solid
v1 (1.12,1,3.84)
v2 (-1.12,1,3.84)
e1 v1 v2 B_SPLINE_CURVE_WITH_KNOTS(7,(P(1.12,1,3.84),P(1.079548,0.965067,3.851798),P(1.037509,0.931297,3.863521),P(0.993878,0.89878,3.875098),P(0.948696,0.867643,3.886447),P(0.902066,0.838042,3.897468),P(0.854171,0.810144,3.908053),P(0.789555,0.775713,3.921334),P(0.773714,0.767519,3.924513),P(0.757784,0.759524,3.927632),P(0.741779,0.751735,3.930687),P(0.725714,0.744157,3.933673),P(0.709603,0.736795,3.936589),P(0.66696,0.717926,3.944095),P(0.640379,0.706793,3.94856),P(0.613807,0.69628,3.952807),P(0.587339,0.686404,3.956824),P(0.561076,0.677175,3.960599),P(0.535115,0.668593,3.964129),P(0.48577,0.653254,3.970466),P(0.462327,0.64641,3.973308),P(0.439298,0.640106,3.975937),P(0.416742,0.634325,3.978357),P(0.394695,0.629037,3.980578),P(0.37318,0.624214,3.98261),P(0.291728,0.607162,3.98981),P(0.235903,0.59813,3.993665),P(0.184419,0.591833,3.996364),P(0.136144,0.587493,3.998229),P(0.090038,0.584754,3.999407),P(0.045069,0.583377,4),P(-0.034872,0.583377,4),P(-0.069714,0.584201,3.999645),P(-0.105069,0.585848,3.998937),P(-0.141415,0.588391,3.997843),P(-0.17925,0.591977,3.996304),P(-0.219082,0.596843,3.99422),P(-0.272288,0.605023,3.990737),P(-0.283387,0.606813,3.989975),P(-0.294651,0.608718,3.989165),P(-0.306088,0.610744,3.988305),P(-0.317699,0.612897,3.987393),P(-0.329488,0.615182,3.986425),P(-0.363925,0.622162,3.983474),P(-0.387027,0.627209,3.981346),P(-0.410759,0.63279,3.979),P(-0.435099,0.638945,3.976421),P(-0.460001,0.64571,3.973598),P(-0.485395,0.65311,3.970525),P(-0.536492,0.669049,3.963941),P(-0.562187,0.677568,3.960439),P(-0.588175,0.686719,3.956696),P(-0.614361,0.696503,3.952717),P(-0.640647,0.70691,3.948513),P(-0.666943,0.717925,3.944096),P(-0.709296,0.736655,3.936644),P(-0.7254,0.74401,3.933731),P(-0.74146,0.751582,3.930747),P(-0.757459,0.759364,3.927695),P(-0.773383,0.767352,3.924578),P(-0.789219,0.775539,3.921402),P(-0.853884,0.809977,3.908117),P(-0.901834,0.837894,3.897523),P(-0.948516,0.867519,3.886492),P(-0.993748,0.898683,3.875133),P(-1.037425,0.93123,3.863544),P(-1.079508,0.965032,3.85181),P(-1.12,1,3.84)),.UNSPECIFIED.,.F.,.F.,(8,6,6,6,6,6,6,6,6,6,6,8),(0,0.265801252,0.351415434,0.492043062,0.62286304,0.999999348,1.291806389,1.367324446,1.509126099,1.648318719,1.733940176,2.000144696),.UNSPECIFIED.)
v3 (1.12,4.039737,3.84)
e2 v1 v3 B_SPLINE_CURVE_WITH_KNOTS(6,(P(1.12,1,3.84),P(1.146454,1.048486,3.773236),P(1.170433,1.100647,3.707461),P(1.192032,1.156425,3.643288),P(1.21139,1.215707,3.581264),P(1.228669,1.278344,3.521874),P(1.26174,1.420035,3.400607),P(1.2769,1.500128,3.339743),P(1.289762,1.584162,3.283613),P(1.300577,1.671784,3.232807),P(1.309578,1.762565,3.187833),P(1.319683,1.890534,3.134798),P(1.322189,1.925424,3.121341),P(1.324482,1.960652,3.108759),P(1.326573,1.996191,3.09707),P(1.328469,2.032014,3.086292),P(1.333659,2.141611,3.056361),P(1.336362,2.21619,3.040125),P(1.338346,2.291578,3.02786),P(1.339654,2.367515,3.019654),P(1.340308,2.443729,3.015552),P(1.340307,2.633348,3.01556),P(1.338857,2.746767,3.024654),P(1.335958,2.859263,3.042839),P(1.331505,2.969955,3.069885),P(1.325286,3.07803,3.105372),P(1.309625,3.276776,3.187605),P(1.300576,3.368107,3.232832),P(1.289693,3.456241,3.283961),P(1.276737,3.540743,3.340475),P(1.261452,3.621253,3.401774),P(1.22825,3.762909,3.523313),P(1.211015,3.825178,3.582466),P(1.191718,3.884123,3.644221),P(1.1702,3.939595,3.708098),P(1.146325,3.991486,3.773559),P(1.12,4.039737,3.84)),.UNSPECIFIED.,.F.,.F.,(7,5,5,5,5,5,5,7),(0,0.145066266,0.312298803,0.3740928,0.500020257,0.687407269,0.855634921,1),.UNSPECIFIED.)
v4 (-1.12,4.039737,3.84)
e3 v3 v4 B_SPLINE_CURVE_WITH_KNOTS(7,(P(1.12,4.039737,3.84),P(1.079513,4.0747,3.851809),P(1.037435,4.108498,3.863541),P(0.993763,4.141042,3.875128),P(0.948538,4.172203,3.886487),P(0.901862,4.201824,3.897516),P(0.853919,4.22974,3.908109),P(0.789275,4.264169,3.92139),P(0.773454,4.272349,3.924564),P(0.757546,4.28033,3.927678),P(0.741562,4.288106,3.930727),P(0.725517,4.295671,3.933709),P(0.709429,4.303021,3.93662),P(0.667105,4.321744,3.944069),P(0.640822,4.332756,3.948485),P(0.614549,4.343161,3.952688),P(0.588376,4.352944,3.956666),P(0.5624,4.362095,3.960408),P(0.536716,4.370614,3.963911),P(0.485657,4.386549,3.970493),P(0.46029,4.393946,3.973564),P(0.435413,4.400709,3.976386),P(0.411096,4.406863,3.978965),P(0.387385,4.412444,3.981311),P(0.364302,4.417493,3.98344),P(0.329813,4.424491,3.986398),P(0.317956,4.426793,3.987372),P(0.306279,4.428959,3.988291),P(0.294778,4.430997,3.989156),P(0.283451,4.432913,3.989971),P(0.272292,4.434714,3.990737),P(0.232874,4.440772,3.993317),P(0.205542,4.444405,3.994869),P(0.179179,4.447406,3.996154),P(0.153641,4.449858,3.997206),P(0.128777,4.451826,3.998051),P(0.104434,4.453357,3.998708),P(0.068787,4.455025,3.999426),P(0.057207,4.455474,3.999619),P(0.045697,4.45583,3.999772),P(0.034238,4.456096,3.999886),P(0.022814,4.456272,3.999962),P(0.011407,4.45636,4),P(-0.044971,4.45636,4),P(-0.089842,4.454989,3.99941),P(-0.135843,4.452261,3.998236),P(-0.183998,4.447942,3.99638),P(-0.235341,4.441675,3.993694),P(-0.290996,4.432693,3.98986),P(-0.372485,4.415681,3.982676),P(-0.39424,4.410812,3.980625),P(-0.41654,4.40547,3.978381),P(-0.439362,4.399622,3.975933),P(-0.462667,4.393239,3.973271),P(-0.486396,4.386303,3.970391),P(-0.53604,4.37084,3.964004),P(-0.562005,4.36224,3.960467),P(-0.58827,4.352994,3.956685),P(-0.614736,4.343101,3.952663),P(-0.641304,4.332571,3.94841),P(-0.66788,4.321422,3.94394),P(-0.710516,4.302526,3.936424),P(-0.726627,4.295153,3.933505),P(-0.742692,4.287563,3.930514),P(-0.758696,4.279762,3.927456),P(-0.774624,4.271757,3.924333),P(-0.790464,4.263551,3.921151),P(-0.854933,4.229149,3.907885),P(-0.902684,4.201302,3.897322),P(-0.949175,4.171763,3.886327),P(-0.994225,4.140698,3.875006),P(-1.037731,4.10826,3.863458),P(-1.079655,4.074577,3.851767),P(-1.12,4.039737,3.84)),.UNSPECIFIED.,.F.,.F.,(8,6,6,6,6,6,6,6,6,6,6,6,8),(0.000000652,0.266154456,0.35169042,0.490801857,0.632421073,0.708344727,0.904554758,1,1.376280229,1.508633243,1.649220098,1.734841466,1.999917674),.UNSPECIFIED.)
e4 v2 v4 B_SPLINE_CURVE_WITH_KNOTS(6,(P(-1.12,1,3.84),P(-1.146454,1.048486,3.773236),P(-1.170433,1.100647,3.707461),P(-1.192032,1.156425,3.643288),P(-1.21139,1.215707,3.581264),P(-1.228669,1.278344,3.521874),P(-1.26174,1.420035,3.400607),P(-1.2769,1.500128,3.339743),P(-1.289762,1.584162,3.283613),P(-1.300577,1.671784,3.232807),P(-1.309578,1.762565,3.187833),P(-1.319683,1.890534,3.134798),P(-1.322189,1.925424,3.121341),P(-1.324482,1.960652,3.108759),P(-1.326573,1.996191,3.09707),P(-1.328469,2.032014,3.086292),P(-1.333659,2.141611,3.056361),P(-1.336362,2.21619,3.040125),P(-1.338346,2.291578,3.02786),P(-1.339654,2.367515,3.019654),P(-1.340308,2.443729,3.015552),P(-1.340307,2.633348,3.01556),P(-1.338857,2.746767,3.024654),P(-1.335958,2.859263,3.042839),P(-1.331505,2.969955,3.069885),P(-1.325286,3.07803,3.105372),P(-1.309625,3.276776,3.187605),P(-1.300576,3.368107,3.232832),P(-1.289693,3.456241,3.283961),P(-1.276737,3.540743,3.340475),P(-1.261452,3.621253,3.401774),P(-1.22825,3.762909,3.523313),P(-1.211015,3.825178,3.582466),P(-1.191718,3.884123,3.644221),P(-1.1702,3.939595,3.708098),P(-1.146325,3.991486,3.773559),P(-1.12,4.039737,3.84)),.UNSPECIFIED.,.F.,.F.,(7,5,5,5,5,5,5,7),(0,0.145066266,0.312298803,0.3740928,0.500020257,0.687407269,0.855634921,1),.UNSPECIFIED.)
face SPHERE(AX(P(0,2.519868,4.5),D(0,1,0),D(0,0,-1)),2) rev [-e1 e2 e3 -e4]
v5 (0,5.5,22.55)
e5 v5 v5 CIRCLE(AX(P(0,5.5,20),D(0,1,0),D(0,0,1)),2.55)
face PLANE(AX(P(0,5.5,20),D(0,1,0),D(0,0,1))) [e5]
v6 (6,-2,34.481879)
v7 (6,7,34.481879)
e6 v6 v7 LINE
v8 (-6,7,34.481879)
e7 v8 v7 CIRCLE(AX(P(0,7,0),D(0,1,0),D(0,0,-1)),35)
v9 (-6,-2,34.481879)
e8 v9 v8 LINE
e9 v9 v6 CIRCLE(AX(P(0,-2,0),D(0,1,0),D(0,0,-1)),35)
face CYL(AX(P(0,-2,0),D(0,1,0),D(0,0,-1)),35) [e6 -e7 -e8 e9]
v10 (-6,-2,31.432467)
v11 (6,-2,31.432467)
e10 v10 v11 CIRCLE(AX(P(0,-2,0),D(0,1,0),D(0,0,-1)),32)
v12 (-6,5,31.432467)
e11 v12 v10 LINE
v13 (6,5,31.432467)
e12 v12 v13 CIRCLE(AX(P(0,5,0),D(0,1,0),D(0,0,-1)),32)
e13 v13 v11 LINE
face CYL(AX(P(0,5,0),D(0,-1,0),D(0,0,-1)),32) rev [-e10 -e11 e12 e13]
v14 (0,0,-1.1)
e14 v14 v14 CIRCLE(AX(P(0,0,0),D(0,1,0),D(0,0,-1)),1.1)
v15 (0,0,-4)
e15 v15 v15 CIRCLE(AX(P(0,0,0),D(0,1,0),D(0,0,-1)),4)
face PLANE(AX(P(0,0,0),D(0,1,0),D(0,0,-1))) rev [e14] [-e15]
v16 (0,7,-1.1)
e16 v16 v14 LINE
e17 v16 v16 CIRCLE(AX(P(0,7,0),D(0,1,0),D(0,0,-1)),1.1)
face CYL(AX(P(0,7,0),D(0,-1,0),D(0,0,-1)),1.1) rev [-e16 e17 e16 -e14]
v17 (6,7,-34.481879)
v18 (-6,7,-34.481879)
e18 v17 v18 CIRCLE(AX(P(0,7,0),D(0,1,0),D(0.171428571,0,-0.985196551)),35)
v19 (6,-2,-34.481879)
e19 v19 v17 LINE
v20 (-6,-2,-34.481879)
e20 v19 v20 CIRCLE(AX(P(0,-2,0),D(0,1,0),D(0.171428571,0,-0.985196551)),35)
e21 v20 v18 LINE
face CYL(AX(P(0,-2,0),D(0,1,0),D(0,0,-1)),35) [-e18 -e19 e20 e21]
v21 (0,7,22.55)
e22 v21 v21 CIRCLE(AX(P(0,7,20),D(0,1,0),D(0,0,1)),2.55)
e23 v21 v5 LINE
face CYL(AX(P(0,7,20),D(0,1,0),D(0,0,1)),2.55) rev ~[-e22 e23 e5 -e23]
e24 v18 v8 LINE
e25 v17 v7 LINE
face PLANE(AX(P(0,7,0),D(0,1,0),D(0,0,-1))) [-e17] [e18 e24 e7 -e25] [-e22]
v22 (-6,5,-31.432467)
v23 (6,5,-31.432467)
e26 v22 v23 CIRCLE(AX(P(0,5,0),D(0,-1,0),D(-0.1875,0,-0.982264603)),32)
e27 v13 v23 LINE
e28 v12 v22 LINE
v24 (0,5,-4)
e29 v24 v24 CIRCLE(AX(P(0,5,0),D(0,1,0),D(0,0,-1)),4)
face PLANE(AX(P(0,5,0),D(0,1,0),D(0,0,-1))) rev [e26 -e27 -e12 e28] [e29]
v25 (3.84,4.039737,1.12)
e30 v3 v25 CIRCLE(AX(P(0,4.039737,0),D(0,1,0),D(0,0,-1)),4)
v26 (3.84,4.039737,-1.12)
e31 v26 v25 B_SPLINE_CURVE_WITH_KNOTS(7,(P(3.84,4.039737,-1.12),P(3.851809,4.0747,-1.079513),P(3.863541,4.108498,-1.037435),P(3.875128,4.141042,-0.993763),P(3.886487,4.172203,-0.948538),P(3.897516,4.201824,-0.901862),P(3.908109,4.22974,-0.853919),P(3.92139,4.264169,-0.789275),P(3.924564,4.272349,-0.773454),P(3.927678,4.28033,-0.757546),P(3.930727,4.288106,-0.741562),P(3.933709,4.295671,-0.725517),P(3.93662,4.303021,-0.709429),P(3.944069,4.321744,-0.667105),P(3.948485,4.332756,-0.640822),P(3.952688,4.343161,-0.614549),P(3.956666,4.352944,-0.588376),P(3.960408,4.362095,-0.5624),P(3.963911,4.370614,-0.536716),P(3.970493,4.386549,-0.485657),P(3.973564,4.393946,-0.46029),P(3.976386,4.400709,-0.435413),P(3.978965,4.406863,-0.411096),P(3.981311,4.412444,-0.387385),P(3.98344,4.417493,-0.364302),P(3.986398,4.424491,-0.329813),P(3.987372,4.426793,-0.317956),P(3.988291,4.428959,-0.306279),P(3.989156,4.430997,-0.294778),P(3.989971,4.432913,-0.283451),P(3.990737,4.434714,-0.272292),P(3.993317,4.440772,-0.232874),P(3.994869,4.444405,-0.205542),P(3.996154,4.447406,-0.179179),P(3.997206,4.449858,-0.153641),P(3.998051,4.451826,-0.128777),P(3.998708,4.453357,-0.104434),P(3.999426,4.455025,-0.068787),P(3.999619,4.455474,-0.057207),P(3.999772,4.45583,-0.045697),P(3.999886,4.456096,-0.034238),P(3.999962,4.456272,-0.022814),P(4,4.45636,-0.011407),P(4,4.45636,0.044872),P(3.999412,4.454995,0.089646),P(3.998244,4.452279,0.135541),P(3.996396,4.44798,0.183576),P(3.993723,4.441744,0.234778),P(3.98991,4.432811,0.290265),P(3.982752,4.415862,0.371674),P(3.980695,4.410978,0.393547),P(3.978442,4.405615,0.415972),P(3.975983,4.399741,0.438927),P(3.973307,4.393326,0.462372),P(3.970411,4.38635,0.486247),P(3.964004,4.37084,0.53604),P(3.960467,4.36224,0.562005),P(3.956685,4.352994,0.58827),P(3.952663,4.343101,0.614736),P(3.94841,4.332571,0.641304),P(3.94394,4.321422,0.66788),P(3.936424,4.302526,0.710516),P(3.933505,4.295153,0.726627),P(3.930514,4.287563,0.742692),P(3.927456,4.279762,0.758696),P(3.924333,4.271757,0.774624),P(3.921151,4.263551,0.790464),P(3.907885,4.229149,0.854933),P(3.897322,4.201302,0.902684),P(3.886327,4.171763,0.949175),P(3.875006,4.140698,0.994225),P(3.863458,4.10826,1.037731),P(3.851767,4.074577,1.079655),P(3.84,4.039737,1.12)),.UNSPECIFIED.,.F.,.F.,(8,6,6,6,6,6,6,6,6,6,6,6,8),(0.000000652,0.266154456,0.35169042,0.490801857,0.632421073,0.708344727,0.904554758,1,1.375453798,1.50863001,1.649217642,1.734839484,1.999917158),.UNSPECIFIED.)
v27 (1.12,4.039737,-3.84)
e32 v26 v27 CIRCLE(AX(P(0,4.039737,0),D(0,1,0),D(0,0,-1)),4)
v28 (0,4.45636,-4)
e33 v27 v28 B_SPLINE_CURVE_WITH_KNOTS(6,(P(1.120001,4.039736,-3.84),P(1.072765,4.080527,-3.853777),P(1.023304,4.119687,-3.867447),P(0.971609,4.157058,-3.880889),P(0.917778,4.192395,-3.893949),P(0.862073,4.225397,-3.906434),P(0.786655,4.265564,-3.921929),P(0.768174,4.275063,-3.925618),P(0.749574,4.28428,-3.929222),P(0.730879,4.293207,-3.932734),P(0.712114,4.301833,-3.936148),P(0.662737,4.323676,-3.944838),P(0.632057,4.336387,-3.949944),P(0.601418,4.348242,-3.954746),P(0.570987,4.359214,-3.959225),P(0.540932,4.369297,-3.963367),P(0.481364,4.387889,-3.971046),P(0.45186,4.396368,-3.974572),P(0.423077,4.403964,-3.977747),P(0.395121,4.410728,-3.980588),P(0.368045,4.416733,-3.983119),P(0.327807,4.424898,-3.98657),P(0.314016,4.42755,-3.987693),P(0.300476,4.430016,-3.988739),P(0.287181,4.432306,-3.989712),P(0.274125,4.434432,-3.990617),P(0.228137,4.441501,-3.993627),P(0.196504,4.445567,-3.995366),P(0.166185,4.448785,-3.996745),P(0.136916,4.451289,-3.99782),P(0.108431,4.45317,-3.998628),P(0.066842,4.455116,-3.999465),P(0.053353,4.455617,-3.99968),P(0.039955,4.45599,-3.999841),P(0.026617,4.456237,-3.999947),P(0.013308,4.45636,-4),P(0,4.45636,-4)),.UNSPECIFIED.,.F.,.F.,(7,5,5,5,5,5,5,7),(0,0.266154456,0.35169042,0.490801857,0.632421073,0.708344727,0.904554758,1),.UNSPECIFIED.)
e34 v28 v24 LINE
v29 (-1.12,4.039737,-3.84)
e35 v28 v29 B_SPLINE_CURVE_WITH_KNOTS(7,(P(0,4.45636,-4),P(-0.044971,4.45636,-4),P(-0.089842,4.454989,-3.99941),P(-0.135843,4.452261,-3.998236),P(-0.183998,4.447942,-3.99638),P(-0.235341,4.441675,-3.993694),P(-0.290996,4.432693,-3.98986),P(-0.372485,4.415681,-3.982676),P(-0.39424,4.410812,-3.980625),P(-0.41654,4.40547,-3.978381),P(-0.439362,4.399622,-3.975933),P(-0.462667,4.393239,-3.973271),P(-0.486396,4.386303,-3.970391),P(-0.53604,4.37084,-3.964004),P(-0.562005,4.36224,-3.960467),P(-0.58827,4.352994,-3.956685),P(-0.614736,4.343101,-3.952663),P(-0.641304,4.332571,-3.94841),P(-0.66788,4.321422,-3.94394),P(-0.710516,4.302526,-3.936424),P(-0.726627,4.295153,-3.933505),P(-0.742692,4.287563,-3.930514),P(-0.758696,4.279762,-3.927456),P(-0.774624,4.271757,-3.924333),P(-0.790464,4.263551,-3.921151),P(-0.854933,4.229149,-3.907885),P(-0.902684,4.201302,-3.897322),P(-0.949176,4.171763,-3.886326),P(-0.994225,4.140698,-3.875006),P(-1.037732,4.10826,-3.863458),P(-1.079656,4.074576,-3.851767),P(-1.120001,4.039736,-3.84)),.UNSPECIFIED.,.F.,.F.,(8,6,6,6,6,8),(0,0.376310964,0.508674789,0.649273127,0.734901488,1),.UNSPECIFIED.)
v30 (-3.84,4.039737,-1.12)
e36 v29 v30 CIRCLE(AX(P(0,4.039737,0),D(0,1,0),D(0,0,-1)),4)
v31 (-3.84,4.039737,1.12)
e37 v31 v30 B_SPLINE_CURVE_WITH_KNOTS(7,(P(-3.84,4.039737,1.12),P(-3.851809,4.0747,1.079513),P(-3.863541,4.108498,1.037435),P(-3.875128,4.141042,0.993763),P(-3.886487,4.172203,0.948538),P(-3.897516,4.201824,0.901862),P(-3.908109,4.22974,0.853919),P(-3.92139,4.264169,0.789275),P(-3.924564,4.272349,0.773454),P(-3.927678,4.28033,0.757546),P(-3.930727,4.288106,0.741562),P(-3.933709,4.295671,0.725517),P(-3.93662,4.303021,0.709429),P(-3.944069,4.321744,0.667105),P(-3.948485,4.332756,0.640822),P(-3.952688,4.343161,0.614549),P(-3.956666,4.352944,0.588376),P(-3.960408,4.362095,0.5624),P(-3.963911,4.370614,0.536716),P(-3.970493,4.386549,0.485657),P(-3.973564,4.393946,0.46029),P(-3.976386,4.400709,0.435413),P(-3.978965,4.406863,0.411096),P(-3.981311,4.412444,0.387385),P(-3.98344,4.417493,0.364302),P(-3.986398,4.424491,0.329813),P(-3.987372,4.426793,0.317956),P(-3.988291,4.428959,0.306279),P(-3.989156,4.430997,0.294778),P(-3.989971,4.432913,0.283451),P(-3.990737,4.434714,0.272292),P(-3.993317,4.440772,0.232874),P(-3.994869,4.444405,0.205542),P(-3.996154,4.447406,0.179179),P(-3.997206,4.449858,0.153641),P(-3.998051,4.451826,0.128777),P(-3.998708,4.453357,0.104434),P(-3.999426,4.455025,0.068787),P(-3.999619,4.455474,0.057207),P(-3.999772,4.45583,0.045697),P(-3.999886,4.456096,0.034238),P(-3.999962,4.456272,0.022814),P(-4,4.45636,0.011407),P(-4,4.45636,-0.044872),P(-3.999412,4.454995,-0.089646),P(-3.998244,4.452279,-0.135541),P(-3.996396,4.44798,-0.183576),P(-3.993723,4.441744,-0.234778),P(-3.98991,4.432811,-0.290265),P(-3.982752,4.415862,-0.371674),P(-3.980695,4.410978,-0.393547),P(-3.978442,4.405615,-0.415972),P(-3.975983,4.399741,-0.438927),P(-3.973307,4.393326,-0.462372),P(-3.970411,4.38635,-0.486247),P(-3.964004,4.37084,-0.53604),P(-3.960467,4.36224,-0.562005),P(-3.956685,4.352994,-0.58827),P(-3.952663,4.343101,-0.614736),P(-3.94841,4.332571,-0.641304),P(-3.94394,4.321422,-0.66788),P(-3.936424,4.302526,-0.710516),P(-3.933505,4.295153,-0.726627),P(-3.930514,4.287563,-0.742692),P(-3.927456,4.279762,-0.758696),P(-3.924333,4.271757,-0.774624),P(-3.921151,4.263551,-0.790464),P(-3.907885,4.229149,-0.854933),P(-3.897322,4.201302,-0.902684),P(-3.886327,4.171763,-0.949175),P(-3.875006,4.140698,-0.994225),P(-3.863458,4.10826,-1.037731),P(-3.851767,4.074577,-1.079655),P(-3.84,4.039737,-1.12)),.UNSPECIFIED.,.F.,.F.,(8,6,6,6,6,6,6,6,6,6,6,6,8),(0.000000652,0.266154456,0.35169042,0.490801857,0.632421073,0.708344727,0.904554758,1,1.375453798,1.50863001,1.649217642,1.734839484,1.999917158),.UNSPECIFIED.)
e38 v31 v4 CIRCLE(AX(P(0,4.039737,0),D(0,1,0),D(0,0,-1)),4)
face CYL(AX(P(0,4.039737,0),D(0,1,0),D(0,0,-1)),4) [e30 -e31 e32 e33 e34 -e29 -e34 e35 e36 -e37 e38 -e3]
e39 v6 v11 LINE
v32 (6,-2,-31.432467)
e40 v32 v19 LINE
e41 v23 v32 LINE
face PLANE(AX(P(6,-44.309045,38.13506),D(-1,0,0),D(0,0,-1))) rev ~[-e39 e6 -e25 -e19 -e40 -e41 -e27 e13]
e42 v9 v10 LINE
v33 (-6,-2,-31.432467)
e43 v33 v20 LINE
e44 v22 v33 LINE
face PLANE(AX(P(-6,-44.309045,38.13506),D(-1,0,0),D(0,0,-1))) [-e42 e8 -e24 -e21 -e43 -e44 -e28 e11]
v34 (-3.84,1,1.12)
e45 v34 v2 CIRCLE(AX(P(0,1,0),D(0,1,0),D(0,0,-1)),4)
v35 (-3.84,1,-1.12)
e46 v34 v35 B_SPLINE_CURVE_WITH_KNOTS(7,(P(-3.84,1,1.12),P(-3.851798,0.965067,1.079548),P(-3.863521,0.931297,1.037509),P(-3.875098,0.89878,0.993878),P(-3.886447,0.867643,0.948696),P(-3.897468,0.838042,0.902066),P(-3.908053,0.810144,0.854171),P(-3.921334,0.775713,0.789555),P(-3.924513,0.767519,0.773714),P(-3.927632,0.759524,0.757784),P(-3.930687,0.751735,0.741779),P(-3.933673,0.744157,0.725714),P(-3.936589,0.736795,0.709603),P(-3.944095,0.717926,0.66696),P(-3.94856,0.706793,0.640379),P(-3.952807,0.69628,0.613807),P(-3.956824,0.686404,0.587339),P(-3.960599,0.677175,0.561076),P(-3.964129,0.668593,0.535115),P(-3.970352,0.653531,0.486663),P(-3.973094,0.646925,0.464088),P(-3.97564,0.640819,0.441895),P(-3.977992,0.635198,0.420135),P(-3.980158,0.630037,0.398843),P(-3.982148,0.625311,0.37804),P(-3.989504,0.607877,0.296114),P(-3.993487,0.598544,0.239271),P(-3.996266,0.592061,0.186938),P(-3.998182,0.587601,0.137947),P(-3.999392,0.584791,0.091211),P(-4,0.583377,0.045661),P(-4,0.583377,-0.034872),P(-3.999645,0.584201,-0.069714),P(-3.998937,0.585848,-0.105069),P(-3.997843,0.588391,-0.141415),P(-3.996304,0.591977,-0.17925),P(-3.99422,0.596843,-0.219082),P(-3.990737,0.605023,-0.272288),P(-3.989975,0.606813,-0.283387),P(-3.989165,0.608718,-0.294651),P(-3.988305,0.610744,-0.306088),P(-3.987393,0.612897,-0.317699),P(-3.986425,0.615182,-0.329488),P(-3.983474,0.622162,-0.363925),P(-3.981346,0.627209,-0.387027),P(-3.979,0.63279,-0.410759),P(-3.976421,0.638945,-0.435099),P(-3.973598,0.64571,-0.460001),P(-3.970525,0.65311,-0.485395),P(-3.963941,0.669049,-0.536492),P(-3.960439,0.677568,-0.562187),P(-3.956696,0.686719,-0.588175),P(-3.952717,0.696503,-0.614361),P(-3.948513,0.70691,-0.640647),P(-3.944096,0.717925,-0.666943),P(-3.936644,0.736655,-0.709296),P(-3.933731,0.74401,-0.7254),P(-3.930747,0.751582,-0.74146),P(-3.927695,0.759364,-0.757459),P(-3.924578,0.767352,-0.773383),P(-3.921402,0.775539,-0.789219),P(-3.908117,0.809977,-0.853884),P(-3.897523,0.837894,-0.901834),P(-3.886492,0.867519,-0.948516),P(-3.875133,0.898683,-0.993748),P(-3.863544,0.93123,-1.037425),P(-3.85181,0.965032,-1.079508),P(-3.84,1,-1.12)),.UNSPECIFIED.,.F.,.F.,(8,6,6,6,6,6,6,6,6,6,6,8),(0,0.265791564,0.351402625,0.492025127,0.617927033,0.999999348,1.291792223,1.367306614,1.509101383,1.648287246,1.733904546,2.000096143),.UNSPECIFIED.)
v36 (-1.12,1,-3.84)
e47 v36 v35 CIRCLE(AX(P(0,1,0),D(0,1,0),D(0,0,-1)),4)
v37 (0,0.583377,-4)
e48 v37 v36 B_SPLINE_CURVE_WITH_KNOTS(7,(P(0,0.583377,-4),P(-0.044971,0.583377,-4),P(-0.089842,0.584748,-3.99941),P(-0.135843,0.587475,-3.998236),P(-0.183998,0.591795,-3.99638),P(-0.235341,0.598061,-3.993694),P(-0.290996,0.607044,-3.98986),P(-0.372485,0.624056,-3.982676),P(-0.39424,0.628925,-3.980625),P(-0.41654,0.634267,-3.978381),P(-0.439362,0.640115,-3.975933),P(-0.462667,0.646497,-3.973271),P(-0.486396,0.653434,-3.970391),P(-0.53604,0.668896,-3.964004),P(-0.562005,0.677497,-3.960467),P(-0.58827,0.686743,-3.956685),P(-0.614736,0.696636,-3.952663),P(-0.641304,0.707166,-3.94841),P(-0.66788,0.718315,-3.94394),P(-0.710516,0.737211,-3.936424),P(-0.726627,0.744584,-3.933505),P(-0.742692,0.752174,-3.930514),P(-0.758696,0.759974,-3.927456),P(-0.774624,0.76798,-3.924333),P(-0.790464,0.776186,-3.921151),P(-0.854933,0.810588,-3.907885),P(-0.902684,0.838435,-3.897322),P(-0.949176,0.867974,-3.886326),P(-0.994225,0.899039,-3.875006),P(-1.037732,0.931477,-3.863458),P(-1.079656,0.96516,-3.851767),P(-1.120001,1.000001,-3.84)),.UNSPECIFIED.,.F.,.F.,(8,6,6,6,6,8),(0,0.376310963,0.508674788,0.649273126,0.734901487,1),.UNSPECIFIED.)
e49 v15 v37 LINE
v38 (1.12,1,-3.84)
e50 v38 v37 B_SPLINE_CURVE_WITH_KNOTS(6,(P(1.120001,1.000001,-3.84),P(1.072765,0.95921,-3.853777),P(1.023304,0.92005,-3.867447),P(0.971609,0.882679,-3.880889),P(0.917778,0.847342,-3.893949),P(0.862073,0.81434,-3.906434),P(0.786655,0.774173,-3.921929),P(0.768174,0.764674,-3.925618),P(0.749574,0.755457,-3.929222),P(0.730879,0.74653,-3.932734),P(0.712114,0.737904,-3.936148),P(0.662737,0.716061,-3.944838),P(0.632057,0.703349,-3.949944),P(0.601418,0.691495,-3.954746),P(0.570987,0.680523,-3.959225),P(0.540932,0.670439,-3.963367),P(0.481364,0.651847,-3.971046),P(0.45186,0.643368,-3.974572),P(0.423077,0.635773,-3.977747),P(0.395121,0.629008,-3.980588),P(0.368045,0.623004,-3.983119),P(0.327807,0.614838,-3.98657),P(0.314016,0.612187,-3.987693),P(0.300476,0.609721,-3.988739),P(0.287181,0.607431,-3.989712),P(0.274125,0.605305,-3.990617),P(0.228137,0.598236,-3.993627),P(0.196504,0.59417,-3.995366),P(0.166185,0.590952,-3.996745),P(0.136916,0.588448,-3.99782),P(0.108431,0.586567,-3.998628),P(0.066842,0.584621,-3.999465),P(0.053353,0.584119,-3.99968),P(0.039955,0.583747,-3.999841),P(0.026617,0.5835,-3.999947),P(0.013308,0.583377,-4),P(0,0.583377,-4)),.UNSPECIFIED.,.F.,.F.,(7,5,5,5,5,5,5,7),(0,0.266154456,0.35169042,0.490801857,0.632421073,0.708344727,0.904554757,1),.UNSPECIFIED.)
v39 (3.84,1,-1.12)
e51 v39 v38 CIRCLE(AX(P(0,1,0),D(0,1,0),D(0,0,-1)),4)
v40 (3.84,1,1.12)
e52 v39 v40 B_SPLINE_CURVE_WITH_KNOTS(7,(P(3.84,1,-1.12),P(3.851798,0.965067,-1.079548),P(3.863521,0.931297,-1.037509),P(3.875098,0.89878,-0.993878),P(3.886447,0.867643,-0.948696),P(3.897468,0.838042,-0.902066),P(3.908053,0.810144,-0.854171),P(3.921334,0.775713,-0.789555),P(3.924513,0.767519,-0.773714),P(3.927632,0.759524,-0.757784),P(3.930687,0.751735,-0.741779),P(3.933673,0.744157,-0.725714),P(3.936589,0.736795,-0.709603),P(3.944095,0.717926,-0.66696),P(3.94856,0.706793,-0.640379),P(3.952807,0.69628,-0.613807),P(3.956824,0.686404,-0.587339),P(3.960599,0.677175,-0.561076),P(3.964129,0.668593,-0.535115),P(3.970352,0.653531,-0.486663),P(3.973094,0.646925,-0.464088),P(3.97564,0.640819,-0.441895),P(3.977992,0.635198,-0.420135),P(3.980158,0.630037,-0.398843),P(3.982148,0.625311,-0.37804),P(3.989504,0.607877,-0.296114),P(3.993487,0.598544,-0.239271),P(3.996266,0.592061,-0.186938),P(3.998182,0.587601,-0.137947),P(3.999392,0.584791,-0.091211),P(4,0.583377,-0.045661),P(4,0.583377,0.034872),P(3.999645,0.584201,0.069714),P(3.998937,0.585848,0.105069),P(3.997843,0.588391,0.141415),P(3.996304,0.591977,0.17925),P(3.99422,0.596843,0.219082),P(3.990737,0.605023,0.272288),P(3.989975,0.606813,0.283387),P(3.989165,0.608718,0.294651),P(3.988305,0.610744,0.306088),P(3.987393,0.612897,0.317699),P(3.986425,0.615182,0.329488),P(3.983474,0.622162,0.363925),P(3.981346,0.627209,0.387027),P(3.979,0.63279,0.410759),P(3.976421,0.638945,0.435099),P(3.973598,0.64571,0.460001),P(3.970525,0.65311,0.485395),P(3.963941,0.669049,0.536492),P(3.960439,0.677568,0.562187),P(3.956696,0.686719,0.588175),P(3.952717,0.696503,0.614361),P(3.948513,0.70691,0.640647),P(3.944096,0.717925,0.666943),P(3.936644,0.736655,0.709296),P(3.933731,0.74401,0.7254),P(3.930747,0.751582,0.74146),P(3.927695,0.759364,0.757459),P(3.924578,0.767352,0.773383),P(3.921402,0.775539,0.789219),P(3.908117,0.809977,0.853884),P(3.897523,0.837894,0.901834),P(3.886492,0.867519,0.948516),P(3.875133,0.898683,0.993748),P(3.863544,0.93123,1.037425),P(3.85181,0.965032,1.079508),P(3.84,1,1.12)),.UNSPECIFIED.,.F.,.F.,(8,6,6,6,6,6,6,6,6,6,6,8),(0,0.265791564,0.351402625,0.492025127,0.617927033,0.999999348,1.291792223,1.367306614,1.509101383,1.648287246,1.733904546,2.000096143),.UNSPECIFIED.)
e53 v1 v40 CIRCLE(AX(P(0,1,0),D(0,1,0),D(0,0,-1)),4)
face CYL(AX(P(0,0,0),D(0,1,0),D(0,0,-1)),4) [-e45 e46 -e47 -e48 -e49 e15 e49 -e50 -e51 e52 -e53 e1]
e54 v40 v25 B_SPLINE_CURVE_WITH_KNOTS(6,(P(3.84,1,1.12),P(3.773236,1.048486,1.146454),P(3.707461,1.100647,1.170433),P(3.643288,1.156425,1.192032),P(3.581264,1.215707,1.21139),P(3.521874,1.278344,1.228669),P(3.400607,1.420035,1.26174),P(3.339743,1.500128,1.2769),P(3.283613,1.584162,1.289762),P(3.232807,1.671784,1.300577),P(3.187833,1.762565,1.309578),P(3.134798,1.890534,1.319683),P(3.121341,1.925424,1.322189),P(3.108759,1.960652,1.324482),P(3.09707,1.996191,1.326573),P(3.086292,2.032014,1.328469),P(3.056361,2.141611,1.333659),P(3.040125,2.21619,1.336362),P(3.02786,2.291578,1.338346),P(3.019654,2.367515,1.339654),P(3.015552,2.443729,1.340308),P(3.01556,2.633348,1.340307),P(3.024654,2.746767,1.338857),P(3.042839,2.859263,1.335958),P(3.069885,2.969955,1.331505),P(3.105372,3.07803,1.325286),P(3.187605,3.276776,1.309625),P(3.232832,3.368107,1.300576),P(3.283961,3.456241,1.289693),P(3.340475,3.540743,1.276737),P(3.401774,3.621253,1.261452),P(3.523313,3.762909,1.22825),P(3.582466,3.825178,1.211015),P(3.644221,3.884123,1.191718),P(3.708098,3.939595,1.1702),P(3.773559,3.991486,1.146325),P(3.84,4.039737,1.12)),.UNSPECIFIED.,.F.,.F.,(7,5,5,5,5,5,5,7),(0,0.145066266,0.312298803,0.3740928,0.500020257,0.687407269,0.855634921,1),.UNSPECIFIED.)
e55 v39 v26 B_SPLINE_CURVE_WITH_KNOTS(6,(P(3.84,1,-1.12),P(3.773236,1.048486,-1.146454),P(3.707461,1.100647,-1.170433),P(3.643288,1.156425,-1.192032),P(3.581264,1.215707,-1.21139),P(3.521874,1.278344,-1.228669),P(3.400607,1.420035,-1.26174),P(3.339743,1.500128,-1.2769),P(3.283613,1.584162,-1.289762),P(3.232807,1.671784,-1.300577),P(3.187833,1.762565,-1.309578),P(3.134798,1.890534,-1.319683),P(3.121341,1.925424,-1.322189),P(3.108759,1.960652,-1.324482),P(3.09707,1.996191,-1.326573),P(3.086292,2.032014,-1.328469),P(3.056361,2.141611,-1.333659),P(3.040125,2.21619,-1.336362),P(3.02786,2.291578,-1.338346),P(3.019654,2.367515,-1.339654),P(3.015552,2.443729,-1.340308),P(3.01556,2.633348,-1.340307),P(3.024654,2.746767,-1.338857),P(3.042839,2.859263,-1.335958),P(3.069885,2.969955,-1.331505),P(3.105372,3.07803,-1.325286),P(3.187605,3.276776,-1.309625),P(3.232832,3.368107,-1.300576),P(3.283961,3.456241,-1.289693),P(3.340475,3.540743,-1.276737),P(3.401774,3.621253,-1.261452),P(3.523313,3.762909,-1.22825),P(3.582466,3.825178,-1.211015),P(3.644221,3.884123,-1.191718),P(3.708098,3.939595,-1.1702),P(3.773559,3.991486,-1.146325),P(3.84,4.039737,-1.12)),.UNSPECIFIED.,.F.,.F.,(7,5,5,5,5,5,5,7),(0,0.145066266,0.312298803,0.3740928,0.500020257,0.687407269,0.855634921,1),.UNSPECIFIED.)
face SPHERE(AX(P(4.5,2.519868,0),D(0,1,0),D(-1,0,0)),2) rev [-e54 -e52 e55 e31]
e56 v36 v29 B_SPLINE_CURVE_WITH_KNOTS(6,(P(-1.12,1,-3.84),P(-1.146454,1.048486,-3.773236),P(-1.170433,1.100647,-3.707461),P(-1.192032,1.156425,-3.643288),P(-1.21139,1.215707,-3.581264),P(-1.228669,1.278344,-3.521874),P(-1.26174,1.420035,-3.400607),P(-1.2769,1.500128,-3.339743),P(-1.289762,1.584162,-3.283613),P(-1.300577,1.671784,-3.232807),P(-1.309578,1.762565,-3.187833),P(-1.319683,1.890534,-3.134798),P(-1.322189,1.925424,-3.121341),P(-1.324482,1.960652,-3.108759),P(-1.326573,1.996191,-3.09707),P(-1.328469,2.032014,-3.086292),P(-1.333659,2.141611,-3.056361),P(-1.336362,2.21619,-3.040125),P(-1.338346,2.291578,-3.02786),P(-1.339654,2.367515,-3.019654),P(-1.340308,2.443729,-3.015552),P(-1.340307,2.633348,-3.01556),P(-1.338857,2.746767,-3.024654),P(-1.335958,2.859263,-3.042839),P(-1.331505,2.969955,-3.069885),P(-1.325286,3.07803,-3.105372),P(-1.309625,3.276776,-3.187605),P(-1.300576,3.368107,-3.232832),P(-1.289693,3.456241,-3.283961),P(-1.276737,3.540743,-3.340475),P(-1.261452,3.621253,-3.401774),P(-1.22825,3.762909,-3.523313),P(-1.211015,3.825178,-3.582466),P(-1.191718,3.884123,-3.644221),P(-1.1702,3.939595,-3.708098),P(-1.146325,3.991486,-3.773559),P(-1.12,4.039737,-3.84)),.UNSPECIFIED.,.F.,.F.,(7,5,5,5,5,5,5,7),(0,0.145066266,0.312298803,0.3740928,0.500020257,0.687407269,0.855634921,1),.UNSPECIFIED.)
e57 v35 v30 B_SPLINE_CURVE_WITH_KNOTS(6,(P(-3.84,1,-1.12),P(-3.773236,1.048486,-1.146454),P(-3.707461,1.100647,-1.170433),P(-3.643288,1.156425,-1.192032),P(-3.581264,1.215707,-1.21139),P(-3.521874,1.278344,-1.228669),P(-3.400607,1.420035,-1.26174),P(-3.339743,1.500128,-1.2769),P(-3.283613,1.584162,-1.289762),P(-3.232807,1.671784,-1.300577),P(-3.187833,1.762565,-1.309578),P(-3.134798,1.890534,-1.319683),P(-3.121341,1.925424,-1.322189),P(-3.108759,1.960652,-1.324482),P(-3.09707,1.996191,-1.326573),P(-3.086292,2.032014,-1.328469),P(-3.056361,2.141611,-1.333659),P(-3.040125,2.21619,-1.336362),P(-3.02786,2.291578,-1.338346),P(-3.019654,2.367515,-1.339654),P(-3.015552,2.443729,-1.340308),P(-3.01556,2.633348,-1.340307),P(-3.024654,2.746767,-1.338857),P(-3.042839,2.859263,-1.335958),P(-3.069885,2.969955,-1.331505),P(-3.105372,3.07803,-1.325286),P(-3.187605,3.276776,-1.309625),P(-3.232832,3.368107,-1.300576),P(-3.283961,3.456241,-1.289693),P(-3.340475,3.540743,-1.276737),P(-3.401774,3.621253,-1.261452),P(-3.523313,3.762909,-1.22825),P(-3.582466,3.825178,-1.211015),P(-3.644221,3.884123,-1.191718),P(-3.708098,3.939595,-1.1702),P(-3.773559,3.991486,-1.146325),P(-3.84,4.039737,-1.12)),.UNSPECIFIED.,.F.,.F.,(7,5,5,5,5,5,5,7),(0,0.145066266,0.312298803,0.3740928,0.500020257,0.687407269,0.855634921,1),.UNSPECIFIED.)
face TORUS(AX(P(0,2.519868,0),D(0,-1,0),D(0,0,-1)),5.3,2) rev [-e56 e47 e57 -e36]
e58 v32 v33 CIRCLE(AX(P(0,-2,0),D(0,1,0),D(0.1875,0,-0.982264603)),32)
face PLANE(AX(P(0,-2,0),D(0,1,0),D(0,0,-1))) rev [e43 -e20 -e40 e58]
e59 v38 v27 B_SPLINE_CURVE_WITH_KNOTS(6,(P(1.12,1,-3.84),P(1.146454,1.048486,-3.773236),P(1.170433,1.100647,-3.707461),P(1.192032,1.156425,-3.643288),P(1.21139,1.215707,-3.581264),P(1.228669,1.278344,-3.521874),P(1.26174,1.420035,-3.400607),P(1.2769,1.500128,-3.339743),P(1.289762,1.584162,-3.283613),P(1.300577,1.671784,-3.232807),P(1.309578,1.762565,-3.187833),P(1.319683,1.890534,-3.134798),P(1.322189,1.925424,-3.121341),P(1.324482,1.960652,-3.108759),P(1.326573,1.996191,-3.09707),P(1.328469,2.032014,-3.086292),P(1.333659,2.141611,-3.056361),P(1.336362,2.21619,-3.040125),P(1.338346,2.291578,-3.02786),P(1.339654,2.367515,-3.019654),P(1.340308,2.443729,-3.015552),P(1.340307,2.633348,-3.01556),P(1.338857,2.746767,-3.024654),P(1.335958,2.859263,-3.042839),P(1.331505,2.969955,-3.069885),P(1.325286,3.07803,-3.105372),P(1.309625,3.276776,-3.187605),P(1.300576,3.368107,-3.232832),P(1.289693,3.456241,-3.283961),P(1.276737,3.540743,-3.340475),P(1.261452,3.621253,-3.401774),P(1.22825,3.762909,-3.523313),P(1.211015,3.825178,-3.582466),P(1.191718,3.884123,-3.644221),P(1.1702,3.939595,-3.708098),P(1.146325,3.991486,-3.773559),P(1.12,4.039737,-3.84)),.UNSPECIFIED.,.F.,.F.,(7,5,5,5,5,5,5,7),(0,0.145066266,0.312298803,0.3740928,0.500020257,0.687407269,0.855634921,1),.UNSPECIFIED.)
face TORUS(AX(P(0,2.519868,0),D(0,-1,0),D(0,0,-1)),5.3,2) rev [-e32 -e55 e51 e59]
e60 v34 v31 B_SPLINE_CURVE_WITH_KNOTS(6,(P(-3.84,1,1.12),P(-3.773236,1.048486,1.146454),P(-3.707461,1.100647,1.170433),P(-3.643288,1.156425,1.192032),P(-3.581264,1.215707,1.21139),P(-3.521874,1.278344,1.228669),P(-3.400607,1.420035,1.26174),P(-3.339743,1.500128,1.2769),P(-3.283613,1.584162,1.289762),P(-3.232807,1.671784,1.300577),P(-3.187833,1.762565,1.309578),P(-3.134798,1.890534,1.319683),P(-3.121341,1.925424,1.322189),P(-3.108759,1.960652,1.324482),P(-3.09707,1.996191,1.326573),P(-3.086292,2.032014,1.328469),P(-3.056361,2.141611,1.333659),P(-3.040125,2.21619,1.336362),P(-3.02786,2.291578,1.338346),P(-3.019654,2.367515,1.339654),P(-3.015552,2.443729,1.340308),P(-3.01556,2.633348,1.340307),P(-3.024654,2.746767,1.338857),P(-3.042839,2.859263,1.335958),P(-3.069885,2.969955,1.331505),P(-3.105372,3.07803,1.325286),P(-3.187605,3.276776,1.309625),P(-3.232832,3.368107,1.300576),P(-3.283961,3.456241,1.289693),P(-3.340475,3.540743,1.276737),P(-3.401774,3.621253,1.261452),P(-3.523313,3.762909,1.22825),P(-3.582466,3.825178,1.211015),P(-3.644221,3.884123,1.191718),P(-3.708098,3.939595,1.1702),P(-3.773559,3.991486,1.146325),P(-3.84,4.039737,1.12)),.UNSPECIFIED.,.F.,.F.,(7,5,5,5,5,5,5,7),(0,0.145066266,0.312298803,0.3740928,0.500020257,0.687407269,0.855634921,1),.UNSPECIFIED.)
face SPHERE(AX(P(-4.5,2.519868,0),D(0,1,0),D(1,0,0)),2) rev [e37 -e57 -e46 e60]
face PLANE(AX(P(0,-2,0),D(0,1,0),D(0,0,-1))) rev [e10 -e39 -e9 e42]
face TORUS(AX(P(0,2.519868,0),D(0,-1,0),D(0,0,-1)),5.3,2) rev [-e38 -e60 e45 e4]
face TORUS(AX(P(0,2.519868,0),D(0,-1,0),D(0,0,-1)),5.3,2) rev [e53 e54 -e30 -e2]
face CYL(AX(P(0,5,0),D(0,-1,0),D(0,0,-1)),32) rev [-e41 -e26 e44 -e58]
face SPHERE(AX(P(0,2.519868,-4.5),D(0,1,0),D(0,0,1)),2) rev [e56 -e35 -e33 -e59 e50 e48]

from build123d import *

# Parameters (mm, degrees)
CORTE_EXTRUS_O1_DEPTH      = 51.309044912
CORTE_EXTRUS_O1_DEPTH_BACK = 51.309044912
ESBO_O2_W                  = 96.741183006
ESBO_O2_H                  = 102.357875962
ESBO_O2_W_2                = 12
ESBO_O2_H_2                = 76.270119436
PADR_OCIRCULAR1_COUNT      = 4
ESBO_O4_R                  = 2.55
CORTE_EXTRUS_O2_DEPTH      = 1.5


with BuildPart() as part:
    # Esboço1 → Revolução1 (revolve)
    with BuildSketch(Plane.XY, mode=Mode.PRIVATE) as revolu_o1_sk:
        with BuildLine():
            Line((1.1, 7), (1.1, 0))
            Line((1.1, 0), (4, 0))
            Line((4, 0), (4, 1))
            ThreePointArc((4, 1), (3.3, 2.519868415), (4, 4.039736831))
            Line((4, 4.039736831), (4, 5))
            Line((4, 5), (32, 5))
            Line((32, 5), (32, -2))
            Line((32, -2), (35, -2))
            Line((35, -2), (35, 7))
            Line((35, 7), (3.5, 7))
            Line((3.5, 7), (1.1, 7))
        make_face()
    revolve(revolu_o1_sk.sketch.rotate(Axis((0, 0, 0), (0, 1, 0)), 90), axis=Axis((0, 0, 0), (0, 1, 0)))

    # Esboço2 → Corte-extrusão1 (cut, two sides: drawn at the far end of the back side and taken through both)
    with BuildSketch(Plane(origin=(0, 7, 0), x_dir=(1, 0, 0), z_dir=(0, 1, 0)).offset(-CORTE_EXTRUS_O1_DEPTH_BACK)):
        Rectangle(ESBO_O2_W, ESBO_O2_H)
        Rectangle(ESBO_O2_W_2, ESBO_O2_H_2, mode=Mode.SUBTRACT)
    extrude(amount=CORTE_EXTRUS_O1_DEPTH + CORTE_EXTRUS_O1_DEPTH_BACK, mode=Mode.SUBTRACT)

    # Esboço3 → Corte-Revolução1 (revolve, cut)
    with BuildSketch(Plane.XY):
        with BuildLine():
            Line((4.5, 4.519868415), (4.5, 0.519868415))
            ThreePointArc((4.5, 0.519868415), (2.5, 2.519868415), (4.5, 4.519868415))
        make_face()
    corte_revolu_o1 = revolve(axis=Axis((4.5, 4.519868415, 0), (0, -1, 0)), mode=Mode.SUBTRACT)

    # PadrãoCircular1: Corte-Revolução1 ×4 about axis
    padr_ocircular1_axis = Axis((0, 0, 0), (0, 1, 0))
    for i in range(1, PADR_OCIRCULAR1_COUNT):
        add(corte_revolu_o1.rotate(padr_ocircular1_axis, i * 360 / PADR_OCIRCULAR1_COUNT), mode=Mode.SUBTRACT)

    # Esboço4 → Corte-extrusão2 (cut)
    with BuildSketch(Plane(origin=(0, 7, 0), x_dir=(1, 0, 0), z_dir=(0, 1, 0))):
        with Locations(Location((0, -20, 0), (0, 0, 270))):
            Circle(ESBO_O4_R)
    extrude(amount=-CORTE_EXTRUS_O2_DEPTH, mode=Mode.SUBTRACT)


solid = part.part
